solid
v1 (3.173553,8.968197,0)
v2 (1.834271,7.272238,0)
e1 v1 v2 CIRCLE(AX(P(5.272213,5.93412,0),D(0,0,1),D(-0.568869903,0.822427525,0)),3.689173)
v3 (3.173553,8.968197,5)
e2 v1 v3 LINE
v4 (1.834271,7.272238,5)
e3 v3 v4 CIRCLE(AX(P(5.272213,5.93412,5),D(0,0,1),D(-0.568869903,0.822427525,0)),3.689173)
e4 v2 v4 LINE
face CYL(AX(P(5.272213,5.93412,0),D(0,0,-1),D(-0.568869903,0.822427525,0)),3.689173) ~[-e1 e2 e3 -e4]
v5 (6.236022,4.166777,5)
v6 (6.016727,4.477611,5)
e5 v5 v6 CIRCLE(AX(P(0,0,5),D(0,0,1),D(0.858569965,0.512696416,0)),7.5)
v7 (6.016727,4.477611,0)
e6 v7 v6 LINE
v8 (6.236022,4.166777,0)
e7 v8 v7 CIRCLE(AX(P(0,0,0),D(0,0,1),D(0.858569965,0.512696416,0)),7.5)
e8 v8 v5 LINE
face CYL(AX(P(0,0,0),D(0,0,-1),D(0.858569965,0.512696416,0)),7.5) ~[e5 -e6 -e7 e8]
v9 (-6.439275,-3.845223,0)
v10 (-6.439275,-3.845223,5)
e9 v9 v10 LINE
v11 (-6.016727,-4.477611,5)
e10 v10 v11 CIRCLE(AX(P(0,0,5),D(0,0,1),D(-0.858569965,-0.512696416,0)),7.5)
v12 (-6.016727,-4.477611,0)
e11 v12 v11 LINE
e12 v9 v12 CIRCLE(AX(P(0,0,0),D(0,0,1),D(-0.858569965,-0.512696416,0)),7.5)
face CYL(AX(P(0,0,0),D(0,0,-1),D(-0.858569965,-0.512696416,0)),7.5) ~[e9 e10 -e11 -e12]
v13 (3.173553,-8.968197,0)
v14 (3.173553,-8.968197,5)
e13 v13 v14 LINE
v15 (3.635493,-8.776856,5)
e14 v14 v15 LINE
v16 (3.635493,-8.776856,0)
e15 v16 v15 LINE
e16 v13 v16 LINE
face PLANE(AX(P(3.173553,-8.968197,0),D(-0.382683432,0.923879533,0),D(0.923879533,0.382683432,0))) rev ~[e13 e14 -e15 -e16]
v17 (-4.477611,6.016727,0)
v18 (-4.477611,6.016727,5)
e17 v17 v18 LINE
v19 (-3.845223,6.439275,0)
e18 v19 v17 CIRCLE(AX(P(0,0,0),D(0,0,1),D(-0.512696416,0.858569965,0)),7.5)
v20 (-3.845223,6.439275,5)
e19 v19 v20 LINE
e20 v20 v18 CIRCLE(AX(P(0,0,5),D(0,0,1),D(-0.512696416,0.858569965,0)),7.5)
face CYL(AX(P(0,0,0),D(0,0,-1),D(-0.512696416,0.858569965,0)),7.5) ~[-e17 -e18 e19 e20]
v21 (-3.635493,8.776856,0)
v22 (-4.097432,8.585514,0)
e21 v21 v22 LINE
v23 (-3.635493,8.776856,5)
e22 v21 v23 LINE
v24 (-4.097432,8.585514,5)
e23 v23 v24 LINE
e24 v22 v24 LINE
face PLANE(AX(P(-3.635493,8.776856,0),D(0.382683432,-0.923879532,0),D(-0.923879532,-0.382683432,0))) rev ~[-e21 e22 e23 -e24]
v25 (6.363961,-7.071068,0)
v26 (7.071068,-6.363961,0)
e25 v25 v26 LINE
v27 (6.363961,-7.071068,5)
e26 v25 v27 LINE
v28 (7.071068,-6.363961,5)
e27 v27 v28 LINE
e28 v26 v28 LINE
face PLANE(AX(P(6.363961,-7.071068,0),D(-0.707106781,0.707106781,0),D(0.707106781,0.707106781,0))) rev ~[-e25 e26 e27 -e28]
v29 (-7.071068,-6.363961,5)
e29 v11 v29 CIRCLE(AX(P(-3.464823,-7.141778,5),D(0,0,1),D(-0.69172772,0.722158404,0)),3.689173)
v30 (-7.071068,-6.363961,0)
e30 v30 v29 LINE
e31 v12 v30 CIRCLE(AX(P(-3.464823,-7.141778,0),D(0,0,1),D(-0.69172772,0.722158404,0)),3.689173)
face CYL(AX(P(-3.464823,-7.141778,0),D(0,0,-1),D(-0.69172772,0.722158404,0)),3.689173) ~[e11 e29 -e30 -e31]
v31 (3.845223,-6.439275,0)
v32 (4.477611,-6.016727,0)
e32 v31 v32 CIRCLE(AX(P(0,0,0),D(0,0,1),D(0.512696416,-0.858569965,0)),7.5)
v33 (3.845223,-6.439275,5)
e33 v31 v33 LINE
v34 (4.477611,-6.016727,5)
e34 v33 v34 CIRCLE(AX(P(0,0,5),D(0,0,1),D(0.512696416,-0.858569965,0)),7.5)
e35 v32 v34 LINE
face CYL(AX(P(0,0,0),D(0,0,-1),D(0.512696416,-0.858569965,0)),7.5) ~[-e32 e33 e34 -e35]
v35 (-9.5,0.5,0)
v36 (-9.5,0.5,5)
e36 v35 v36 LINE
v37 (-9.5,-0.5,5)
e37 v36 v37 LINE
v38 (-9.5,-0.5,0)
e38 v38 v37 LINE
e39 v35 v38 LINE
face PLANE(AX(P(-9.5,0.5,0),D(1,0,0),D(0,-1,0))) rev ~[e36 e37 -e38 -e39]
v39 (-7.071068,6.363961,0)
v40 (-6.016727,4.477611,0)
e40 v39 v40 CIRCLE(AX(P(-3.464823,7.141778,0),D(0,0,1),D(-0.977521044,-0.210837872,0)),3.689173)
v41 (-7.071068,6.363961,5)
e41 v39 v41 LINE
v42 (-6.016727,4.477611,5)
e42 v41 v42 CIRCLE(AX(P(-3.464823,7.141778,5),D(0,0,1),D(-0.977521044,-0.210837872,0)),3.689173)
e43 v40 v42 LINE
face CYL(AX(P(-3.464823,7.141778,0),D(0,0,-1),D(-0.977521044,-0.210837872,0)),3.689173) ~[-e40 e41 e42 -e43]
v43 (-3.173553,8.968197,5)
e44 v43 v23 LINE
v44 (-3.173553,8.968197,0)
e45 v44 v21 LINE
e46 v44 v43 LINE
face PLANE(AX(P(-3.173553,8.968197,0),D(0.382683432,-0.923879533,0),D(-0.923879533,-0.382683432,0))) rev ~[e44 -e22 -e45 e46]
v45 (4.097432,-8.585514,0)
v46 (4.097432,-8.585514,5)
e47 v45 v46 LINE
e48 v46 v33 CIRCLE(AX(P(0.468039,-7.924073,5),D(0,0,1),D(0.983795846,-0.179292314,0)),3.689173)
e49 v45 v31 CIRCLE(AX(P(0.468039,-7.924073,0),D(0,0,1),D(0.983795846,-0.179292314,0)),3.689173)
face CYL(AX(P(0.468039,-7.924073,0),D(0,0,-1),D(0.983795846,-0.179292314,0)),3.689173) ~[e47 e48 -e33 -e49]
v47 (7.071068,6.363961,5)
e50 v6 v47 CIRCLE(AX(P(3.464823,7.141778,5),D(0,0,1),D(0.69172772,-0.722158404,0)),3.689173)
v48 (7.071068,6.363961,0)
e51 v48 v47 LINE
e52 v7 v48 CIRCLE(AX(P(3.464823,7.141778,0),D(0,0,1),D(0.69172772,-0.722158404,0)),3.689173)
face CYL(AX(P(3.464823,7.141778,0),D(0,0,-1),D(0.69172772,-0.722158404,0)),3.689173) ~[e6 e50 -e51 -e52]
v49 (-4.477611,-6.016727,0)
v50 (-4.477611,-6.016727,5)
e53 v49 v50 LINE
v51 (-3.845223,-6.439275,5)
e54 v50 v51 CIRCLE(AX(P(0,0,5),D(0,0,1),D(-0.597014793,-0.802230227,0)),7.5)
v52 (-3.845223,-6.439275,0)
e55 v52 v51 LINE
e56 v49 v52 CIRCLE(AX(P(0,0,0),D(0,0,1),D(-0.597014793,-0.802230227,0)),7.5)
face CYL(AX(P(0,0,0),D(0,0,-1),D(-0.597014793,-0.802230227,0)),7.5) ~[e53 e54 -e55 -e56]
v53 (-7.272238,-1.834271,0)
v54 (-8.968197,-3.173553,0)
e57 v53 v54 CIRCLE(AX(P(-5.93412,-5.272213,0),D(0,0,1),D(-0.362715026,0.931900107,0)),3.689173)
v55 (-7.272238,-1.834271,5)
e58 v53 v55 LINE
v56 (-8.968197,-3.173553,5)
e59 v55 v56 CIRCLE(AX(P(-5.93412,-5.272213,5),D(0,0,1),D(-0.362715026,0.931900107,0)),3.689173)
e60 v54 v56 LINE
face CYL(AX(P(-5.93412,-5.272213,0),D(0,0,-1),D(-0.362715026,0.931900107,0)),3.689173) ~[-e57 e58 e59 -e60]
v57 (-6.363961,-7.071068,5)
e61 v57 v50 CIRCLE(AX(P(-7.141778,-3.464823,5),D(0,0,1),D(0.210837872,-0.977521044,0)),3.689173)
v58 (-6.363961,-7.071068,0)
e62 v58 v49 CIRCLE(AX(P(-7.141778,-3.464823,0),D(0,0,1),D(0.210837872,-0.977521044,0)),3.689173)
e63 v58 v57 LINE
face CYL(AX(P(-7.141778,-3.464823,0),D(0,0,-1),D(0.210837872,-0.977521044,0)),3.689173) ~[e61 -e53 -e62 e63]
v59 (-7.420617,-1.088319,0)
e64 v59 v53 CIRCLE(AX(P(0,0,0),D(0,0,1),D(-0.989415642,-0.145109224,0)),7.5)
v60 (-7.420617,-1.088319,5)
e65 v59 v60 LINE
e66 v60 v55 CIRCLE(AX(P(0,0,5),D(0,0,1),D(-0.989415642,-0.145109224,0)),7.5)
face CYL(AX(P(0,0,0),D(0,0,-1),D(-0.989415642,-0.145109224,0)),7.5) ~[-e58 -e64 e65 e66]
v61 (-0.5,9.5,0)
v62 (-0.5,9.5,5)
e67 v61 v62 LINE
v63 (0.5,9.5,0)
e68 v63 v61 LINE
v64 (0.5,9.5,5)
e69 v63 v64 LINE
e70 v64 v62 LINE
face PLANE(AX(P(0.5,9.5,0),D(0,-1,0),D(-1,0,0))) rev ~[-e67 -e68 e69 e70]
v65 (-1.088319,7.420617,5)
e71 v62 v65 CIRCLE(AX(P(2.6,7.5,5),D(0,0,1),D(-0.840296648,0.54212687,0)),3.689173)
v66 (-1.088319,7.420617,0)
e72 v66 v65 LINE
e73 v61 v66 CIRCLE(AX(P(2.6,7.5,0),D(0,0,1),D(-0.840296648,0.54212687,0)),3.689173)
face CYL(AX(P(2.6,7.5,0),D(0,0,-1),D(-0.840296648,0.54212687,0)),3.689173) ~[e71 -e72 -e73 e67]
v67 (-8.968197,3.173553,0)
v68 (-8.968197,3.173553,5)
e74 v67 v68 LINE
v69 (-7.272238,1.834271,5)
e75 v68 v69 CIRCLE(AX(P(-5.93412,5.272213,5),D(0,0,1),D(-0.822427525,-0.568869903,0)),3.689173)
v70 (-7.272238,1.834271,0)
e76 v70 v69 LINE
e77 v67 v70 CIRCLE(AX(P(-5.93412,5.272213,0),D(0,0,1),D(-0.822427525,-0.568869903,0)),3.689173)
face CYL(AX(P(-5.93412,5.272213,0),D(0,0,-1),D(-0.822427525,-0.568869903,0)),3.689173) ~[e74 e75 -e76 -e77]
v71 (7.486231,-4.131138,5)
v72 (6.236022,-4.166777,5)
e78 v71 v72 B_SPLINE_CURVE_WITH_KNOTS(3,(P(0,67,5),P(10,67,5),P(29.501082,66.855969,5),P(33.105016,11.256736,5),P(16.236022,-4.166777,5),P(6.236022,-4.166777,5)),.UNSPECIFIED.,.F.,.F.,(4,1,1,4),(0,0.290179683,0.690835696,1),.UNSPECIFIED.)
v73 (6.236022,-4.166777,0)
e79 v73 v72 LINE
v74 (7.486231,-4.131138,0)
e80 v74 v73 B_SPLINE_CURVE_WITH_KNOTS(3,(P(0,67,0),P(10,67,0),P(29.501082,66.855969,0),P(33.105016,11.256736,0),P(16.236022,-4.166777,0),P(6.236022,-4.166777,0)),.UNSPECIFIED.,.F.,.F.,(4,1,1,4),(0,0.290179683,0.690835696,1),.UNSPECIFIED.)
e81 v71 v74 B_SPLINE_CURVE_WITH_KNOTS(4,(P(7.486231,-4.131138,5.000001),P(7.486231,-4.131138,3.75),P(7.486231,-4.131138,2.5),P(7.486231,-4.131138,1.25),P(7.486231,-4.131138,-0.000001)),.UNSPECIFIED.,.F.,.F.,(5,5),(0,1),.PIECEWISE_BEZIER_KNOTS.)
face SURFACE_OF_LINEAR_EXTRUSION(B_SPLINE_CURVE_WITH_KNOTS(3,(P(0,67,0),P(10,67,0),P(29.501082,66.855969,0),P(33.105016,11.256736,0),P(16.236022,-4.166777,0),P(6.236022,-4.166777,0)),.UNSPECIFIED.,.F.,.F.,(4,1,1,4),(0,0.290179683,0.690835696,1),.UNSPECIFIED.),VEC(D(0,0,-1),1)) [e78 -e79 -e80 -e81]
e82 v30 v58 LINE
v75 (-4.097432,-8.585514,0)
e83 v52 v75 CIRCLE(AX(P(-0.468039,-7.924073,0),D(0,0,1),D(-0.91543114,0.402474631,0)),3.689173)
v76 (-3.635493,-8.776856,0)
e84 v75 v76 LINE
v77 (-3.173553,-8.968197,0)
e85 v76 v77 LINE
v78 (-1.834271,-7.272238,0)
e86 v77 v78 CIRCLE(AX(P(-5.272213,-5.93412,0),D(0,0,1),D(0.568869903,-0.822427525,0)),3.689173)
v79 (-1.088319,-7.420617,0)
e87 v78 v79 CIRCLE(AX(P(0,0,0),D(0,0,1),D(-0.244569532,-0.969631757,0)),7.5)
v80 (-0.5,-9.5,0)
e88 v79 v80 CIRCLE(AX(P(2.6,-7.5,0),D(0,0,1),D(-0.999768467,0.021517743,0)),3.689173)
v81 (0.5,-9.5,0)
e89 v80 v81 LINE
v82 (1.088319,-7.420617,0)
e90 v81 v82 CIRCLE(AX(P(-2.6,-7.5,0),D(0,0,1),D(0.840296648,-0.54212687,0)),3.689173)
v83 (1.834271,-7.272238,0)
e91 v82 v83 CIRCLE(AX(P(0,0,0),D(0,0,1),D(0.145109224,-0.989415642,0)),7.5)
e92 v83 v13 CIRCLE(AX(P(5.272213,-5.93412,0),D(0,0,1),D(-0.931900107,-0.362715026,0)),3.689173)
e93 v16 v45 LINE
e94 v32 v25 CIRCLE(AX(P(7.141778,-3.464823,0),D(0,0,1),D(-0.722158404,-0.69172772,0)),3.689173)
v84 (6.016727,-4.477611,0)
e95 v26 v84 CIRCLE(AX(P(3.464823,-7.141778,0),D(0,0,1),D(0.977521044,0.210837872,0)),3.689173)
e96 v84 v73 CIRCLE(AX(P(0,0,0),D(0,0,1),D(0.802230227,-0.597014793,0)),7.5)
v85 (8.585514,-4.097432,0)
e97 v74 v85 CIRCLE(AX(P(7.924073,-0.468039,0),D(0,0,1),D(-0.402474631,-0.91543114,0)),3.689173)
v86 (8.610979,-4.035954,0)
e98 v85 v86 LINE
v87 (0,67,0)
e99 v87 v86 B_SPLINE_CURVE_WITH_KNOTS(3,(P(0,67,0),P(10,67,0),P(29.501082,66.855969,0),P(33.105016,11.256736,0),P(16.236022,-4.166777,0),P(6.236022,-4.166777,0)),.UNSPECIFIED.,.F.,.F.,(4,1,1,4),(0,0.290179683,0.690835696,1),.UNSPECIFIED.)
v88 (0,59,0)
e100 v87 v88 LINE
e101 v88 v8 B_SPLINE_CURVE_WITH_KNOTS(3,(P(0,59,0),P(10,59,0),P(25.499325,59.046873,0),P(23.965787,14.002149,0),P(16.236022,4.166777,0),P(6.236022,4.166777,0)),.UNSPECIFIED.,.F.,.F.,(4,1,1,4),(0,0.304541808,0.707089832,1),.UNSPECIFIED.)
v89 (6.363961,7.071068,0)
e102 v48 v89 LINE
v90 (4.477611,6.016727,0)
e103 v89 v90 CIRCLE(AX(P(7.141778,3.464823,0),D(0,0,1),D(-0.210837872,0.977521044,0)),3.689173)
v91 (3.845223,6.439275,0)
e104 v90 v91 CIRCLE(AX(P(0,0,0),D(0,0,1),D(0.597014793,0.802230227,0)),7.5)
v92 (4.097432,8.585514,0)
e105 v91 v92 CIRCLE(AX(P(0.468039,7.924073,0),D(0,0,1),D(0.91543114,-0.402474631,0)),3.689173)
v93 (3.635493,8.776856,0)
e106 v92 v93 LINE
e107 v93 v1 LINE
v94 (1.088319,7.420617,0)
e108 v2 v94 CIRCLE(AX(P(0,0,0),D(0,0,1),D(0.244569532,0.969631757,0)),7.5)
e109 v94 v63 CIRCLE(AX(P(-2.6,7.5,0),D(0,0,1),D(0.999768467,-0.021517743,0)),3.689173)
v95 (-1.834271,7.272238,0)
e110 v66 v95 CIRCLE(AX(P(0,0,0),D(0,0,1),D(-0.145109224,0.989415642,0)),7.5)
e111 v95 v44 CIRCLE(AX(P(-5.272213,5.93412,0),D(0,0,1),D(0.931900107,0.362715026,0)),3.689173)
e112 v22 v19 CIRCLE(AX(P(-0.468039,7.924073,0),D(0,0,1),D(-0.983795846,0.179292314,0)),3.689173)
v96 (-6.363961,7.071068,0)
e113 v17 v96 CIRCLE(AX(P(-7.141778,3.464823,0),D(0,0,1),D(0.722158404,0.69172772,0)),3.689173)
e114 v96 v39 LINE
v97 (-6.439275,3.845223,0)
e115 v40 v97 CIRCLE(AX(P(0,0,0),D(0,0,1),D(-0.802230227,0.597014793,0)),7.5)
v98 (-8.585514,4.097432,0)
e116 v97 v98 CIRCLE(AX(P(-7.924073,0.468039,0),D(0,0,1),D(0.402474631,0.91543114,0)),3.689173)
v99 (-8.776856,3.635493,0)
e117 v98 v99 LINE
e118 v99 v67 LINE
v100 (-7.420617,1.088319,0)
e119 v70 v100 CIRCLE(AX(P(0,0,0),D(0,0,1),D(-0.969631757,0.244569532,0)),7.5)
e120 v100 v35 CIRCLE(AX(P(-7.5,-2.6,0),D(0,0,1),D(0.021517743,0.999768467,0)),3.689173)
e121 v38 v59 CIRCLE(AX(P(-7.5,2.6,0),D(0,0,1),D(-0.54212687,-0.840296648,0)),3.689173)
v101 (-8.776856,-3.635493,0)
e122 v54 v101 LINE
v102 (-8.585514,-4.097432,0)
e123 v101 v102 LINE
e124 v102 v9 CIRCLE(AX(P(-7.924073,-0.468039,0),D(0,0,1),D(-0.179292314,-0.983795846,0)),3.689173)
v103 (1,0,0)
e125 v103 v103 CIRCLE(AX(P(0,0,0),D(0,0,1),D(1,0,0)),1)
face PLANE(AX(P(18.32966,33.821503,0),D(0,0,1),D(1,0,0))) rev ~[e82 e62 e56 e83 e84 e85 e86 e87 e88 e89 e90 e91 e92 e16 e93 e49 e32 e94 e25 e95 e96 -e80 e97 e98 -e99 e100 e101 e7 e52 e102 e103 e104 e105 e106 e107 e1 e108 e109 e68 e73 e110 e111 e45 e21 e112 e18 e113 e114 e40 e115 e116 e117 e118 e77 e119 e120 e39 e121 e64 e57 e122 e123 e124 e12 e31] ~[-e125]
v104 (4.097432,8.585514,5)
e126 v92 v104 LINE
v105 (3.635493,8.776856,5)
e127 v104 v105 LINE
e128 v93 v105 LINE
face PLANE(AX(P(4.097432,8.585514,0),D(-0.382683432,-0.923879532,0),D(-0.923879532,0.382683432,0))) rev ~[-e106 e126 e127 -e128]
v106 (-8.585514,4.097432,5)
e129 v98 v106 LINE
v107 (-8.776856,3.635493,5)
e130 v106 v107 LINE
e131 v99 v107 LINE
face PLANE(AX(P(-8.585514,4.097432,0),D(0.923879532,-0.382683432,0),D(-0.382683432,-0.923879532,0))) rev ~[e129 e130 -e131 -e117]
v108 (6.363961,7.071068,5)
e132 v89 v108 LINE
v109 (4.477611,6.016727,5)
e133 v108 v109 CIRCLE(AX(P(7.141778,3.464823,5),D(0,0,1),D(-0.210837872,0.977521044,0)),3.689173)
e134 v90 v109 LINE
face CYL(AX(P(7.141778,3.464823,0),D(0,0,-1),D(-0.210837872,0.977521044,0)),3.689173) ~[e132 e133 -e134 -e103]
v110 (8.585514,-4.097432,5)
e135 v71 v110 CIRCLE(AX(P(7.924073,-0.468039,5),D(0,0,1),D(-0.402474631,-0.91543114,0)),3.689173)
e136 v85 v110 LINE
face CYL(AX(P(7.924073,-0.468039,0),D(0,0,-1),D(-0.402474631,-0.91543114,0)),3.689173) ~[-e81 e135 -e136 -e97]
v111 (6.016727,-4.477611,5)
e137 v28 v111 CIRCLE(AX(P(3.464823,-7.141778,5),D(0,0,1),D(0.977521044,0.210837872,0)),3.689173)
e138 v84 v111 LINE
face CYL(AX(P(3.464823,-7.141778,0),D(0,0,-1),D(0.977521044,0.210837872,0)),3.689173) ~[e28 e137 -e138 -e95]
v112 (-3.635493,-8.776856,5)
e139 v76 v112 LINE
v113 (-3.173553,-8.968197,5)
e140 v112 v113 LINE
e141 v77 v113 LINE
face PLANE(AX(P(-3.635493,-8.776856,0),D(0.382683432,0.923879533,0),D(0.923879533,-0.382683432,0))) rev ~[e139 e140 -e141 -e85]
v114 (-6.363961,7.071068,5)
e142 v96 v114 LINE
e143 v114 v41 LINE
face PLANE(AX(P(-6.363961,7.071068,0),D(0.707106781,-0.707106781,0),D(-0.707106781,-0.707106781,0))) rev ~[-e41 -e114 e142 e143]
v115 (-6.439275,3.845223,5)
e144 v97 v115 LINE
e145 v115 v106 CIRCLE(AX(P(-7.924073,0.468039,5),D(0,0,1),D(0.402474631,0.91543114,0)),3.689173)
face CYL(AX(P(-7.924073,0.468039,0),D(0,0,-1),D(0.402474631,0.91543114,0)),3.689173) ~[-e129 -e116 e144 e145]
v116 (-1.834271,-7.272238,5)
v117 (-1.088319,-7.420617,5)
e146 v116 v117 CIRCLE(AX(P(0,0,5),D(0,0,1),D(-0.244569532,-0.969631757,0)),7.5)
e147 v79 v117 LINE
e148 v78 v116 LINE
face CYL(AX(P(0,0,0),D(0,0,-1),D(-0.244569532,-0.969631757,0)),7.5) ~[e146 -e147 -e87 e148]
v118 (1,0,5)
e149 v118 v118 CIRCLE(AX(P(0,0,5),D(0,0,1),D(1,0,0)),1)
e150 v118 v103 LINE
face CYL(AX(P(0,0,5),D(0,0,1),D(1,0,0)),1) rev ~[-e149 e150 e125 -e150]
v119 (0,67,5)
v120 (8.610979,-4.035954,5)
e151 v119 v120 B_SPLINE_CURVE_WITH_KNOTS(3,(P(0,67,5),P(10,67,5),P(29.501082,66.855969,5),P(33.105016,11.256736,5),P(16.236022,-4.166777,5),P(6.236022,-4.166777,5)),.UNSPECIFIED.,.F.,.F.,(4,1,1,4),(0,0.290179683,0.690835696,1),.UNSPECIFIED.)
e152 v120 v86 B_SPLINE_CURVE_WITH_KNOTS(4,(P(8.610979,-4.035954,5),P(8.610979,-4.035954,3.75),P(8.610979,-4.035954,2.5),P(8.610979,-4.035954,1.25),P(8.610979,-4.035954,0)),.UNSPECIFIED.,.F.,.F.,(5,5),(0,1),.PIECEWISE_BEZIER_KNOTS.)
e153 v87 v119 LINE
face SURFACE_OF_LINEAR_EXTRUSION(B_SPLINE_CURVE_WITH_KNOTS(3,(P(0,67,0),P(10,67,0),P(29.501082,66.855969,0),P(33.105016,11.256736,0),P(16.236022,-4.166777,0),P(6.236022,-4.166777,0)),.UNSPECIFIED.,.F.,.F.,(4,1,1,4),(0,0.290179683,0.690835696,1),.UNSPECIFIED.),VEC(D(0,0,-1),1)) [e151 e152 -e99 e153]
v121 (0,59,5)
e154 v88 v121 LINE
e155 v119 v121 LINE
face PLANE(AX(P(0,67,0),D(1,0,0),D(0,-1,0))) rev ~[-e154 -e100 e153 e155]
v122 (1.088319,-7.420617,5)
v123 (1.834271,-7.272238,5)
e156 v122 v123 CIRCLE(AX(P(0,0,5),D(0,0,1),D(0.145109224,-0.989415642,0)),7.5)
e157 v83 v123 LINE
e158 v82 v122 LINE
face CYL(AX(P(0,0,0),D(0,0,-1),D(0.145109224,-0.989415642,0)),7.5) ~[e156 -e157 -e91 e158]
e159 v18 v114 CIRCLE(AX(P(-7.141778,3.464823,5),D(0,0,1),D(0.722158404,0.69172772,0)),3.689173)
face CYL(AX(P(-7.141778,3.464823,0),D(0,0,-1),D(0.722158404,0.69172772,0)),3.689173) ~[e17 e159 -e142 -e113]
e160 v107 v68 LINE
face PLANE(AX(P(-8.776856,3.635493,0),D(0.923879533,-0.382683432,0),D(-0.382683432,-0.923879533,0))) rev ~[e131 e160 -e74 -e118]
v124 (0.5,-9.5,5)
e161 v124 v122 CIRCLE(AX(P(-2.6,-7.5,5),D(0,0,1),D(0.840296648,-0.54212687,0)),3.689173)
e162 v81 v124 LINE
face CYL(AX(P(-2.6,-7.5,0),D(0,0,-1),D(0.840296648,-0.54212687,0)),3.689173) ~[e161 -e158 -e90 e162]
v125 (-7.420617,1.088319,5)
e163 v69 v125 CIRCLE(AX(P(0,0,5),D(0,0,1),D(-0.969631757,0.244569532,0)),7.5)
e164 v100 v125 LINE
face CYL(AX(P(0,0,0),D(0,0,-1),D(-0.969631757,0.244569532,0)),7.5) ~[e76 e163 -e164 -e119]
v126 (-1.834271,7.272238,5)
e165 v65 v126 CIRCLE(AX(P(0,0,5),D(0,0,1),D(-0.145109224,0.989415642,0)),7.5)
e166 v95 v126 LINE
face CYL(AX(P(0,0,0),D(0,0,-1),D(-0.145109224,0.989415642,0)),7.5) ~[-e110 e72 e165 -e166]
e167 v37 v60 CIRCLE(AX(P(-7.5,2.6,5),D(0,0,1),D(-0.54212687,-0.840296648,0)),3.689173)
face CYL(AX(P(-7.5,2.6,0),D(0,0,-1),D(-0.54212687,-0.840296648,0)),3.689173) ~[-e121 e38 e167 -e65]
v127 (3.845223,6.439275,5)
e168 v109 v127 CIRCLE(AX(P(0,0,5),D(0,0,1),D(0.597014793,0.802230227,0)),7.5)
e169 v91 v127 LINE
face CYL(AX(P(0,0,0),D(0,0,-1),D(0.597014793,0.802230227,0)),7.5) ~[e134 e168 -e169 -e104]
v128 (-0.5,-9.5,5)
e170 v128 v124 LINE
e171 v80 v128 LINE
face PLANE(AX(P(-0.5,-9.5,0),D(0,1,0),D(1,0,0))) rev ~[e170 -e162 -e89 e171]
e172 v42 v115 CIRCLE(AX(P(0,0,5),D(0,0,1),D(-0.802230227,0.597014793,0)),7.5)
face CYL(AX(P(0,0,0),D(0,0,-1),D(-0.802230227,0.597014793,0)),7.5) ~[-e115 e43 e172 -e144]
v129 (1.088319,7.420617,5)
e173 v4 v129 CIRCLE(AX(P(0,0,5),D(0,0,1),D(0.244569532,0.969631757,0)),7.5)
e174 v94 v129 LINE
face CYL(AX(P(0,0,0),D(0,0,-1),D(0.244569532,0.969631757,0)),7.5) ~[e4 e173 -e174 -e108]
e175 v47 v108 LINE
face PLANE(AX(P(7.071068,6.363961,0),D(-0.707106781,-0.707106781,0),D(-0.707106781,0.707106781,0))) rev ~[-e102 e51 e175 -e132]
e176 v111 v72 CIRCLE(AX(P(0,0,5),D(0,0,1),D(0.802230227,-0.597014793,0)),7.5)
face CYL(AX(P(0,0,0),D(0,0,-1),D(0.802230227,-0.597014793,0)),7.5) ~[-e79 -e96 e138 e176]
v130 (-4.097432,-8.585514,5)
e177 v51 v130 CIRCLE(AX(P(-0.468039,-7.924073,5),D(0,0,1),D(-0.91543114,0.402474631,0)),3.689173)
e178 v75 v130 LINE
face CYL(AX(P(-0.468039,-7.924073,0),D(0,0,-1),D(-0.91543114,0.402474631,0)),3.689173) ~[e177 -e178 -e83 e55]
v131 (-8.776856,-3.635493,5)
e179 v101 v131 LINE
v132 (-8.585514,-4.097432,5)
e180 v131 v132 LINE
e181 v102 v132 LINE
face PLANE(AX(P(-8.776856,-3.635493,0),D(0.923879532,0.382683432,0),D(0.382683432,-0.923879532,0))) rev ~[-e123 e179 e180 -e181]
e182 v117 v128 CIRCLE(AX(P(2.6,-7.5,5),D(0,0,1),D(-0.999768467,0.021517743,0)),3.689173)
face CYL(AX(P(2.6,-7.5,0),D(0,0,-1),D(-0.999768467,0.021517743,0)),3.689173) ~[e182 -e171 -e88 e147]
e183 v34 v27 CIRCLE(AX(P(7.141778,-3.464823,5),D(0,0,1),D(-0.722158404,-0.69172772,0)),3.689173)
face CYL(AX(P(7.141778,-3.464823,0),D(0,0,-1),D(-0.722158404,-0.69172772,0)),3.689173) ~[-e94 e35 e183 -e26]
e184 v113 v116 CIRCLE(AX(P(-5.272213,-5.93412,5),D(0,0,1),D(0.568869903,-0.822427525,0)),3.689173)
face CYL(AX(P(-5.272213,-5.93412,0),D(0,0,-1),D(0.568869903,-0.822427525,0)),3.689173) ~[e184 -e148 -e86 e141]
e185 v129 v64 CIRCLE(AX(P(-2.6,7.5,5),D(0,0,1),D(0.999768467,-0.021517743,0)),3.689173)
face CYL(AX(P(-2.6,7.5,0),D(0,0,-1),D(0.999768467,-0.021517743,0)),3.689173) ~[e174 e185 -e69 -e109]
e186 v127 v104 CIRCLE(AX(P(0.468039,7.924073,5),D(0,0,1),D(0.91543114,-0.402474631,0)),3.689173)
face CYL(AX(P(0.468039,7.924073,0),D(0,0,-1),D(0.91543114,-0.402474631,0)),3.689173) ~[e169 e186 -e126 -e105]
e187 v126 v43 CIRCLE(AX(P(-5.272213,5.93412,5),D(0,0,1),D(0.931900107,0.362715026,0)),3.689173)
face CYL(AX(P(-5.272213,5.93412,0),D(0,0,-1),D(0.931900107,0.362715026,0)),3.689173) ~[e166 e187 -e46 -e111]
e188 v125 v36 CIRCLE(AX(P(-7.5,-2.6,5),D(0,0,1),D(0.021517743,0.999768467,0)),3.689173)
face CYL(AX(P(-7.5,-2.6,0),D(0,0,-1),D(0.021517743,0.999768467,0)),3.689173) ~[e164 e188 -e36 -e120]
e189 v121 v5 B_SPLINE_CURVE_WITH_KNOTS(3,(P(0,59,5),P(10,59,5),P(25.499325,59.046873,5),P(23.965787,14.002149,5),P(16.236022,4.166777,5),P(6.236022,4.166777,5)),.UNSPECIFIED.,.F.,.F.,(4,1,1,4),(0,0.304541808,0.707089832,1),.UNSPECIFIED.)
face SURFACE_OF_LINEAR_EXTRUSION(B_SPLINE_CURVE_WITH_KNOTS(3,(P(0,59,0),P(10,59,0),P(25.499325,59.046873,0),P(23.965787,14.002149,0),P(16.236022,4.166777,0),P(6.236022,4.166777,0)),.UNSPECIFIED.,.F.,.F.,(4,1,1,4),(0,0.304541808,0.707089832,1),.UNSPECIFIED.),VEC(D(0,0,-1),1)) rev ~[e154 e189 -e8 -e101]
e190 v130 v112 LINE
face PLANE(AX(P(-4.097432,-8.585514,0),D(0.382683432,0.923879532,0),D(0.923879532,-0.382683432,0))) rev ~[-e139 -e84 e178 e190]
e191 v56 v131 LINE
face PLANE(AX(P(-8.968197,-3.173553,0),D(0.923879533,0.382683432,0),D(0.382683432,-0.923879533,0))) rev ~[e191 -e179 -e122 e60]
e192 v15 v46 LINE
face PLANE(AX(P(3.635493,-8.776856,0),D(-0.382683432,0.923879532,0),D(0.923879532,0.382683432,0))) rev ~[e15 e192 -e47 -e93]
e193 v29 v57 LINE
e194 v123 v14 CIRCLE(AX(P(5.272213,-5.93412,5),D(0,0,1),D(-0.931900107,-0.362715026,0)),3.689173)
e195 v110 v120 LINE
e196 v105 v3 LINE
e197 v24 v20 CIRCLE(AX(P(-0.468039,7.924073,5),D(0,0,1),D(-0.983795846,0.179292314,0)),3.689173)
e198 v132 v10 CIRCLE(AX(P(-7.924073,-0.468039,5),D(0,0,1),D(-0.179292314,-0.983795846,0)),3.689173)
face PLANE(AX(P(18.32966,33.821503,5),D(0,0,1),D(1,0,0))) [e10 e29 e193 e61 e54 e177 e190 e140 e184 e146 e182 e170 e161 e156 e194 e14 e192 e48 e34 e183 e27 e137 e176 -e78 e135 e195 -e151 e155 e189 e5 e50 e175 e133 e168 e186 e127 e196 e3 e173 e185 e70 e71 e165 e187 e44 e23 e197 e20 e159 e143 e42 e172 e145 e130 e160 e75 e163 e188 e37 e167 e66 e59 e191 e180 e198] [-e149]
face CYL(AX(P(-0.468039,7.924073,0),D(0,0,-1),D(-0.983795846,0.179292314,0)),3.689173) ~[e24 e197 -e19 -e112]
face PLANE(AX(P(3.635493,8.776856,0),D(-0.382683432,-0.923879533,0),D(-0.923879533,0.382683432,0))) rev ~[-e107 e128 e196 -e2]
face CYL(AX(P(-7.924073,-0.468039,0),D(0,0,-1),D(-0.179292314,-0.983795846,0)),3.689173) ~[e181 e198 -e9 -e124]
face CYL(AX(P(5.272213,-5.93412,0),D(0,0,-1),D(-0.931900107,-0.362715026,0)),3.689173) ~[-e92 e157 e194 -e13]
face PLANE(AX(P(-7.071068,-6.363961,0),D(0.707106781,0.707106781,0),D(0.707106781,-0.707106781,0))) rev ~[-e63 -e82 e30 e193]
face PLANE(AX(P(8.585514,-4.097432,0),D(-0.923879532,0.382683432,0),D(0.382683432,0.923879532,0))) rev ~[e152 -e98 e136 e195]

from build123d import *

# Parameters (mm, degrees)
F1_DEPTH = 5
F2_R     = 1
F3_DEPTH = 5
F5_DEPTH = 5


with BuildPart() as f1:
    # F0 (on Top) → F1 (new body)
    with BuildSketch(Plane.XY):
        with BuildLine():
            ThreePointArc((7.4206173165, -1.0883191822), (7.4801280027, -0.5456052265), (7.5, 0))
            ThreePointArc((7.5, 0), (7.4801280027, 0.5456052265), (7.4206173165, 1.0883191822))
            ThreePointArc((7.4206173165, 1.0883191822), (7.355889603, 1.4631774151), (7.2722381774, 1.8342714877))
            ThreePointArc((7.2722381774, 1.8342714877), (6.9290964938, 2.8701257427), (6.4392747372, 3.8452231222))
            ThreePointArc((6.4392747372, 3.8452231222), (6.2360220923, 4.1667767476), (6.0167266989, 4.4776109513))
            ThreePointArc((6.0167266989, 4.4776109513), (5.3033008589, 5.3033008589), (4.4776109513, 6.0167266989))
            ThreePointArc((4.4776109513, 6.0167266989), (4.1667767476, 6.2360220923), (3.8452231222, 6.4392747372))
            ThreePointArc((3.8452231222, 6.4392747372), (2.8701257427, 6.9290964938), (1.8342714877, 7.2722381774))
            ThreePointArc((1.8342714877, 7.2722381774), (1.4631774151, 7.355889603), (1.0883191822, 7.4206173165))
            ThreePointArc((1.0883191822, 7.4206173165), (0.5456052265, 7.4801280027), (0, 7.5))
            ThreePointArc((0, 7.5), (-0.5456052265, 7.4801280027), (-1.0883191822, 7.4206173165))
            ThreePointArc((-1.0883191822, 7.4206173165), (-1.4631774151, 7.355889603), (-1.8342714877, 7.2722381774))
            ThreePointArc((-1.8342714877, 7.2722381774), (-2.8701257427, 6.9290964938), (-3.8452231222, 6.4392747372))
            ThreePointArc((-3.8452231222, 6.4392747372), (-4.1667767476, 6.2360220923), (-4.4776109513, 6.0167266989))
            ThreePointArc((-4.4776109513, 6.0167266989), (-5.3033008589, 5.3033008589), (-6.0167266989, 4.4776109513))
            ThreePointArc((-6.0167266989, 4.4776109513), (-6.2360220923, 4.1667767476), (-6.4392747372, 3.8452231222))
            ThreePointArc((-6.4392747372, 3.8452231222), (-6.9290964938, 2.8701257427), (-7.2722381774, 1.8342714877))
            ThreePointArc((-7.2722381774, 1.8342714877), (-7.355889603, 1.4631774151), (-7.4206173165, 1.0883191822))
            ThreePointArc((-7.4206173165, 1.0883191822), (-7.5, 0), (-7.4206173165, -1.0883191822))
            ThreePointArc((-7.4206173165, -1.0883191822), (-7.355889603, -1.4631774151), (-7.2722381774, -1.8342714877))
            ThreePointArc((-7.2722381774, -1.8342714877), (-6.9290964938, -2.8701257427), (-6.4392747372, -3.8452231222))
            ThreePointArc((-6.4392747372, -3.8452231222), (-6.2360220923, -4.1667767476), (-6.0167266989, -4.4776109513))
            ThreePointArc((-6.0167266989, -4.4776109513), (-5.3033008589, -5.3033008589), (-4.4776109513, -6.0167266989))
            ThreePointArc((-4.4776109513, -6.0167266989), (-4.1667767476, -6.2360220923), (-3.8452231222, -6.4392747372))
            ThreePointArc((-3.8452231222, -6.4392747372), (-2.8701257427, -6.9290964938), (-1.8342714877, -7.2722381774))
            ThreePointArc((-1.8342714877, -7.2722381774), (-1.4631774151, -7.355889603), (-1.0883191822, -7.4206173165))
            ThreePointArc((-1.0883191822, -7.4206173165), (0, -7.5), (1.0883191822, -7.4206173165))
            ThreePointArc((1.0883191822, -7.4206173165), (1.4631774151, -7.355889603), (1.8342714877, -7.2722381774))
            ThreePointArc((1.8342714877, -7.2722381774), (2.8701257427, -6.9290964938), (3.8452231222, -6.4392747372))
            ThreePointArc((3.8452231222, -6.4392747372), (4.1667767476, -6.2360220923), (4.4776109513, -6.0167266989))
            ThreePointArc((4.4776109513, -6.0167266989), (5.3033008589, -5.3033008589), (6.0167266989, -4.4776109513))
            ThreePointArc((6.0167266989, -4.4776109513), (6.2360220923, -4.1667767476), (6.4392747372, -3.8452231222))
            ThreePointArc((6.4392747372, -3.8452231222), (6.9290964938, -2.8701257427), (7.2722381774, -1.8342714877))
            ThreePointArc((7.2722381774, -1.8342714877), (7.355889603, -1.4631774151), (7.4206173165, -1.0883191822))
        make_face()
        with BuildLine():
            ThreePointArc((0.5, -9.5), (0.9498278009, -8.5043518229), (1.0883191822, -7.4206173165))
            ThreePointArc((1.0883191822, -7.4206173165), (0, -7.5), (-1.0883191822, -7.4206173165))
            ThreePointArc((-1.0883191822, -7.4206173165), (-0.9498278009, -8.5043518229), (-0.5, -9.5))
            Line((-0.5, -9.5), (0, -9.5))
            Line((0, -9.5), (0.5, -9.5))
        make_face()
        with BuildLine():
            ThreePointArc((4.0974323737, -8.5855138427), (4.1320010103, -7.4935132234), (3.8452231222, -6.4392747372))
            ThreePointArc((3.8452231222, -6.4392747372), (2.8701257427, -6.9290964938), (1.8342714877, -7.2722381774))
            ThreePointArc((1.8342714877, -7.2722381774), (2.376948081, -8.2204799494), (3.1735528412, -8.968197275))
            Line((3.1735528412, -8.968197275), (3.6354926075, -8.7768555589))
            Line((3.6354926075, -8.7768555589), (4.0974323737, -8.5855138427))
        make_face()
        with BuildLine():
            ThreePointArc((8.968197275, -3.1735528412), (8.2204799494, -2.376948081), (7.2722381774, -1.8342714877))
            ThreePointArc((7.2722381774, -1.8342714877), (6.9290964938, -2.8701257427), (6.4392747372, -3.8452231222))
            ThreePointArc((6.4392747372, -3.8452231222), (7.4935132234, -4.1320010103), (8.5855138427, -4.0974323737))
            Line((8.5855138427, -4.0974323737), (8.7768555589, -3.6354926075))
            Line((8.7768555589, -3.6354926075), (8.968197275, -3.1735528412))
        make_face()
        with BuildLine():
            ThreePointArc((7.4206173165, 1.0883191822), (7.4801280027, 0.5456052265), (7.5, 0))
            ThreePointArc((7.5, 0), (7.4801280027, -0.5456052265), (7.4206173165, -1.0883191822))
            ThreePointArc((7.4206173165, -1.0883191822), (8.5043518229, -0.9498278009), (9.5, -0.5))
            Line((9.5, -0.5), (9.5, 0))
            Line((9.5, 0), (9.5, 0.5))
            ThreePointArc((9.5, 0.5), (8.5043518229, 0.9498278009), (7.4206173165, 1.0883191822))
        make_face()
        with BuildLine():
            ThreePointArc((7.0710678119, -6.3639610307), (6.6851145225, -5.3418551646), (6.0167266989, -4.4776109513))
            ThreePointArc((6.0167266989, -4.4776109513), (5.3033008589, -5.3033008589), (4.4776109513, -6.0167266989))
            ThreePointArc((4.4776109513, -6.0167266989), (5.3418551646, -6.6851145225), (6.3639610307, -7.0710678119))
            Line((6.3639610307, -7.0710678119), (6.7175144213, -6.7175144213))
            Line((6.7175144213, -6.7175144213), (7.0710678119, -6.3639610307))
        make_face()
        with BuildLine():
            ThreePointArc((6.4392747372, 3.8452231222), (6.9290964938, 2.8701257427), (7.2722381774, 1.8342714877))
            ThreePointArc((7.2722381774, 1.8342714877), (8.2204799494, 2.376948081), (8.968197275, 3.1735528412))
            Line((8.968197275, 3.1735528412), (8.7768555589, 3.6354926075))
            Line((8.7768555589, 3.6354926075), (8.5855138427, 4.0974323737))
            ThreePointArc((8.5855138427, 4.0974323737), (7.4935132234, 4.1320010103), (6.4392747372, 3.8452231222))
        make_face()
        with BuildLine():
            ThreePointArc((4.4776109513, 6.0167266989), (5.3033008589, 5.3033008589), (6.0167266989, 4.4776109513))
            ThreePointArc((6.0167266989, 4.4776109513), (6.6851145225, 5.3418551646), (7.0710678119, 6.3639610307))
            Line((7.0710678119, 6.3639610307), (6.7175144213, 6.7175144213))
            Line((6.7175144213, 6.7175144213), (6.3639610307, 7.0710678119))
            ThreePointArc((6.3639610307, 7.0710678119), (5.3418551646, 6.6851145225), (4.4776109513, 6.0167266989))
        make_face()
        with BuildLine():
            ThreePointArc((1.8342714877, 7.2722381774), (2.8701257427, 6.9290964938), (3.8452231222, 6.4392747372))
            ThreePointArc((3.8452231222, 6.4392747372), (4.1320010103, 7.4935132234), (4.0974323737, 8.5855138427))
            Line((4.0974323737, 8.5855138427), (3.6354926075, 8.7768555589))
            Line((3.6354926075, 8.7768555589), (3.1735528412, 8.968197275))
            ThreePointArc((3.1735528412, 8.968197275), (2.376948081, 8.2204799494), (1.8342714877, 7.2722381774))
        make_face()
        with BuildLine():
            ThreePointArc((-3.1735528412, -8.968197275), (-2.376948081, -8.2204799494), (-1.8342714877, -7.2722381774))
            ThreePointArc((-1.8342714877, -7.2722381774), (-2.8701257427, -6.9290964938), (-3.8452231222, -6.4392747372))
            ThreePointArc((-3.8452231222, -6.4392747372), (-4.1320010103, -7.4935132234), (-4.0974323737, -8.5855138427))
            Line((-4.0974323737, -8.5855138427), (-3.6354926075, -8.7768555589))
            Line((-3.6354926075, -8.7768555589), (-3.1735528412, -8.968197275))
        make_face()
        with BuildLine():
            ThreePointArc((-6.3639610307, -7.0710678119), (-5.3418551646, -6.6851145225), (-4.4776109513, -6.0167266989))
            ThreePointArc((-4.4776109513, -6.0167266989), (-5.3033008589, -5.3033008589), (-6.0167266989, -4.4776109513))
            ThreePointArc((-6.0167266989, -4.4776109513), (-6.6851145225, -5.3418551646), (-7.0710678119, -6.3639610307))
            Line((-7.0710678119, -6.3639610307), (-6.7175144213, -6.7175144213))
            Line((-6.7175144213, -6.7175144213), (-6.3639610307, -7.0710678119))
        make_face()
        with BuildLine():
            ThreePointArc((-8.5855138427, -4.0974323737), (-7.4935132234, -4.1320010103), (-6.4392747372, -3.8452231222))
            ThreePointArc((-6.4392747372, -3.8452231222), (-6.9290964938, -2.8701257427), (-7.2722381774, -1.8342714877))
            ThreePointArc((-7.2722381774, -1.8342714877), (-8.2204799494, -2.376948081), (-8.968197275, -3.1735528412))
            Line((-8.968197275, -3.1735528412), (-8.7768555589, -3.6354926075))
            Line((-8.7768555589, -3.6354926075), (-8.5855138427, -4.0974323737))
        make_face()
        with BuildLine():
            ThreePointArc((-9.5, -0.5), (-8.5043518229, -0.9498278009), (-7.4206173165, -1.0883191822))
            ThreePointArc((-7.4206173165, -1.0883191822), (-7.5, 0), (-7.4206173165, 1.0883191822))
            ThreePointArc((-7.4206173165, 1.0883191822), (-8.5043518229, 0.9498278009), (-9.5, 0.5))
            Line((-9.5, 0.5), (-9.5, 0))
            Line((-9.5, 0), (-9.5, -0.5))
        make_face()
        with BuildLine():
            ThreePointArc((-7.2722381774, 1.8342714877), (-6.9290964938, 2.8701257427), (-6.4392747372, 3.8452231222))
            ThreePointArc((-6.4392747372, 3.8452231222), (-7.4935132234, 4.1320010103), (-8.5855138427, 4.0974323737))
            Line((-8.5855138427, 4.0974323737), (-8.7768555589, 3.6354926075))
            Line((-8.7768555589, 3.6354926075), (-8.968197275, 3.1735528412))
            ThreePointArc((-8.968197275, 3.1735528412), (-8.2204799494, 2.376948081), (-7.2722381774, 1.8342714877))
        make_face()
        with BuildLine():
            ThreePointArc((-6.0167266989, 4.4776109513), (-5.3033008589, 5.3033008589), (-4.4776109513, 6.0167266989))
            ThreePointArc((-4.4776109513, 6.0167266989), (-5.3418551646, 6.6851145225), (-6.3639610307, 7.0710678119))
            Line((-6.3639610307, 7.0710678119), (-6.7175144213, 6.7175144213))
            Line((-6.7175144213, 6.7175144213), (-7.0710678119, 6.3639610307))
            ThreePointArc((-7.0710678119, 6.3639610307), (-6.6851145225, 5.3418551646), (-6.0167266989, 4.4776109513))
        make_face()
        with BuildLine():
            ThreePointArc((-3.8452231222, 6.4392747372), (-2.8701257427, 6.9290964938), (-1.8342714877, 7.2722381774))
            ThreePointArc((-1.8342714877, 7.2722381774), (-2.376948081, 8.2204799494), (-3.1735528412, 8.968197275))
            Line((-3.1735528412, 8.968197275), (-3.6354926075, 8.7768555589))
            Line((-3.6354926075, 8.7768555589), (-4.0974323737, 8.5855138427))
            ThreePointArc((-4.0974323737, 8.5855138427), (-4.1320010103, 7.4935132234), (-3.8452231222, 6.4392747372))
        make_face()
        with BuildLine():
            ThreePointArc((-1.0883191822, 7.4206173165), (-0.5456052265, 7.4801280027), (0, 7.5))
            Line((0, 7.5), (0, 9.5))
            Line((0, 9.5), (-0.5, 9.5))
            ThreePointArc((-0.5, 9.5), (-0.9498278009, 8.5043518229), (-1.0883191822, 7.4206173165))
        make_face()
        with BuildLine():
            ThreePointArc((0, 7.5), (0.5456052265, 7.4801280027), (1.0883191822, 7.4206173165))
            ThreePointArc((1.0883191822, 7.4206173165), (0.9498278009, 8.5043518229), (0.5, 9.5))
            Line((0.5, 9.5), (0, 9.5))
            Line((0, 9.5), (0, 7.5))
        make_face()
    extrude(amount=F1_DEPTH)

    # F2 (on face) → F3 (cut)
    with BuildSketch(Plane.XY.offset(5)):
        Circle(F2_R)
    extrude(amount=-F3_DEPTH, mode=Mode.SUBTRACT)

    # F4 (on Top) → F5 (join, through all)
    with BuildSketch(Plane.XY):
        with BuildLine():
            Line((0, 67), (0, 59))
            add(Edge.make_bspline(
                [(0, 59), (10, 59), (25.4993254548, 59.0468729188), (23.9657868474, 14.0021486097), (16.2360220923, 4.1667767476), (6.2360220923, 4.1667767476)],
                knots=[0, 0, 0, 0, 0.3045418083, 0.7070898322, 1, 1, 1, 1], degree=3))
            Line((6.2360220923, 4.1667767476), (6.2360220923, -4.1667767476))
            add(Edge.make_bspline(
                [(0, 67), (10, 67), (29.5010820231, 66.8559685475), (33.105016404, 11.2567361372), (16.2360220923, -4.1667767476), (6.2360220923, -4.1667767476)],
                knots=[0, 0, 0, 0, 0.2901796827, 0.6908356956, 1, 1, 1, 1], degree=3))
        make_face()
    extrude(amount=F5_DEPTH)


solid = f1.part
